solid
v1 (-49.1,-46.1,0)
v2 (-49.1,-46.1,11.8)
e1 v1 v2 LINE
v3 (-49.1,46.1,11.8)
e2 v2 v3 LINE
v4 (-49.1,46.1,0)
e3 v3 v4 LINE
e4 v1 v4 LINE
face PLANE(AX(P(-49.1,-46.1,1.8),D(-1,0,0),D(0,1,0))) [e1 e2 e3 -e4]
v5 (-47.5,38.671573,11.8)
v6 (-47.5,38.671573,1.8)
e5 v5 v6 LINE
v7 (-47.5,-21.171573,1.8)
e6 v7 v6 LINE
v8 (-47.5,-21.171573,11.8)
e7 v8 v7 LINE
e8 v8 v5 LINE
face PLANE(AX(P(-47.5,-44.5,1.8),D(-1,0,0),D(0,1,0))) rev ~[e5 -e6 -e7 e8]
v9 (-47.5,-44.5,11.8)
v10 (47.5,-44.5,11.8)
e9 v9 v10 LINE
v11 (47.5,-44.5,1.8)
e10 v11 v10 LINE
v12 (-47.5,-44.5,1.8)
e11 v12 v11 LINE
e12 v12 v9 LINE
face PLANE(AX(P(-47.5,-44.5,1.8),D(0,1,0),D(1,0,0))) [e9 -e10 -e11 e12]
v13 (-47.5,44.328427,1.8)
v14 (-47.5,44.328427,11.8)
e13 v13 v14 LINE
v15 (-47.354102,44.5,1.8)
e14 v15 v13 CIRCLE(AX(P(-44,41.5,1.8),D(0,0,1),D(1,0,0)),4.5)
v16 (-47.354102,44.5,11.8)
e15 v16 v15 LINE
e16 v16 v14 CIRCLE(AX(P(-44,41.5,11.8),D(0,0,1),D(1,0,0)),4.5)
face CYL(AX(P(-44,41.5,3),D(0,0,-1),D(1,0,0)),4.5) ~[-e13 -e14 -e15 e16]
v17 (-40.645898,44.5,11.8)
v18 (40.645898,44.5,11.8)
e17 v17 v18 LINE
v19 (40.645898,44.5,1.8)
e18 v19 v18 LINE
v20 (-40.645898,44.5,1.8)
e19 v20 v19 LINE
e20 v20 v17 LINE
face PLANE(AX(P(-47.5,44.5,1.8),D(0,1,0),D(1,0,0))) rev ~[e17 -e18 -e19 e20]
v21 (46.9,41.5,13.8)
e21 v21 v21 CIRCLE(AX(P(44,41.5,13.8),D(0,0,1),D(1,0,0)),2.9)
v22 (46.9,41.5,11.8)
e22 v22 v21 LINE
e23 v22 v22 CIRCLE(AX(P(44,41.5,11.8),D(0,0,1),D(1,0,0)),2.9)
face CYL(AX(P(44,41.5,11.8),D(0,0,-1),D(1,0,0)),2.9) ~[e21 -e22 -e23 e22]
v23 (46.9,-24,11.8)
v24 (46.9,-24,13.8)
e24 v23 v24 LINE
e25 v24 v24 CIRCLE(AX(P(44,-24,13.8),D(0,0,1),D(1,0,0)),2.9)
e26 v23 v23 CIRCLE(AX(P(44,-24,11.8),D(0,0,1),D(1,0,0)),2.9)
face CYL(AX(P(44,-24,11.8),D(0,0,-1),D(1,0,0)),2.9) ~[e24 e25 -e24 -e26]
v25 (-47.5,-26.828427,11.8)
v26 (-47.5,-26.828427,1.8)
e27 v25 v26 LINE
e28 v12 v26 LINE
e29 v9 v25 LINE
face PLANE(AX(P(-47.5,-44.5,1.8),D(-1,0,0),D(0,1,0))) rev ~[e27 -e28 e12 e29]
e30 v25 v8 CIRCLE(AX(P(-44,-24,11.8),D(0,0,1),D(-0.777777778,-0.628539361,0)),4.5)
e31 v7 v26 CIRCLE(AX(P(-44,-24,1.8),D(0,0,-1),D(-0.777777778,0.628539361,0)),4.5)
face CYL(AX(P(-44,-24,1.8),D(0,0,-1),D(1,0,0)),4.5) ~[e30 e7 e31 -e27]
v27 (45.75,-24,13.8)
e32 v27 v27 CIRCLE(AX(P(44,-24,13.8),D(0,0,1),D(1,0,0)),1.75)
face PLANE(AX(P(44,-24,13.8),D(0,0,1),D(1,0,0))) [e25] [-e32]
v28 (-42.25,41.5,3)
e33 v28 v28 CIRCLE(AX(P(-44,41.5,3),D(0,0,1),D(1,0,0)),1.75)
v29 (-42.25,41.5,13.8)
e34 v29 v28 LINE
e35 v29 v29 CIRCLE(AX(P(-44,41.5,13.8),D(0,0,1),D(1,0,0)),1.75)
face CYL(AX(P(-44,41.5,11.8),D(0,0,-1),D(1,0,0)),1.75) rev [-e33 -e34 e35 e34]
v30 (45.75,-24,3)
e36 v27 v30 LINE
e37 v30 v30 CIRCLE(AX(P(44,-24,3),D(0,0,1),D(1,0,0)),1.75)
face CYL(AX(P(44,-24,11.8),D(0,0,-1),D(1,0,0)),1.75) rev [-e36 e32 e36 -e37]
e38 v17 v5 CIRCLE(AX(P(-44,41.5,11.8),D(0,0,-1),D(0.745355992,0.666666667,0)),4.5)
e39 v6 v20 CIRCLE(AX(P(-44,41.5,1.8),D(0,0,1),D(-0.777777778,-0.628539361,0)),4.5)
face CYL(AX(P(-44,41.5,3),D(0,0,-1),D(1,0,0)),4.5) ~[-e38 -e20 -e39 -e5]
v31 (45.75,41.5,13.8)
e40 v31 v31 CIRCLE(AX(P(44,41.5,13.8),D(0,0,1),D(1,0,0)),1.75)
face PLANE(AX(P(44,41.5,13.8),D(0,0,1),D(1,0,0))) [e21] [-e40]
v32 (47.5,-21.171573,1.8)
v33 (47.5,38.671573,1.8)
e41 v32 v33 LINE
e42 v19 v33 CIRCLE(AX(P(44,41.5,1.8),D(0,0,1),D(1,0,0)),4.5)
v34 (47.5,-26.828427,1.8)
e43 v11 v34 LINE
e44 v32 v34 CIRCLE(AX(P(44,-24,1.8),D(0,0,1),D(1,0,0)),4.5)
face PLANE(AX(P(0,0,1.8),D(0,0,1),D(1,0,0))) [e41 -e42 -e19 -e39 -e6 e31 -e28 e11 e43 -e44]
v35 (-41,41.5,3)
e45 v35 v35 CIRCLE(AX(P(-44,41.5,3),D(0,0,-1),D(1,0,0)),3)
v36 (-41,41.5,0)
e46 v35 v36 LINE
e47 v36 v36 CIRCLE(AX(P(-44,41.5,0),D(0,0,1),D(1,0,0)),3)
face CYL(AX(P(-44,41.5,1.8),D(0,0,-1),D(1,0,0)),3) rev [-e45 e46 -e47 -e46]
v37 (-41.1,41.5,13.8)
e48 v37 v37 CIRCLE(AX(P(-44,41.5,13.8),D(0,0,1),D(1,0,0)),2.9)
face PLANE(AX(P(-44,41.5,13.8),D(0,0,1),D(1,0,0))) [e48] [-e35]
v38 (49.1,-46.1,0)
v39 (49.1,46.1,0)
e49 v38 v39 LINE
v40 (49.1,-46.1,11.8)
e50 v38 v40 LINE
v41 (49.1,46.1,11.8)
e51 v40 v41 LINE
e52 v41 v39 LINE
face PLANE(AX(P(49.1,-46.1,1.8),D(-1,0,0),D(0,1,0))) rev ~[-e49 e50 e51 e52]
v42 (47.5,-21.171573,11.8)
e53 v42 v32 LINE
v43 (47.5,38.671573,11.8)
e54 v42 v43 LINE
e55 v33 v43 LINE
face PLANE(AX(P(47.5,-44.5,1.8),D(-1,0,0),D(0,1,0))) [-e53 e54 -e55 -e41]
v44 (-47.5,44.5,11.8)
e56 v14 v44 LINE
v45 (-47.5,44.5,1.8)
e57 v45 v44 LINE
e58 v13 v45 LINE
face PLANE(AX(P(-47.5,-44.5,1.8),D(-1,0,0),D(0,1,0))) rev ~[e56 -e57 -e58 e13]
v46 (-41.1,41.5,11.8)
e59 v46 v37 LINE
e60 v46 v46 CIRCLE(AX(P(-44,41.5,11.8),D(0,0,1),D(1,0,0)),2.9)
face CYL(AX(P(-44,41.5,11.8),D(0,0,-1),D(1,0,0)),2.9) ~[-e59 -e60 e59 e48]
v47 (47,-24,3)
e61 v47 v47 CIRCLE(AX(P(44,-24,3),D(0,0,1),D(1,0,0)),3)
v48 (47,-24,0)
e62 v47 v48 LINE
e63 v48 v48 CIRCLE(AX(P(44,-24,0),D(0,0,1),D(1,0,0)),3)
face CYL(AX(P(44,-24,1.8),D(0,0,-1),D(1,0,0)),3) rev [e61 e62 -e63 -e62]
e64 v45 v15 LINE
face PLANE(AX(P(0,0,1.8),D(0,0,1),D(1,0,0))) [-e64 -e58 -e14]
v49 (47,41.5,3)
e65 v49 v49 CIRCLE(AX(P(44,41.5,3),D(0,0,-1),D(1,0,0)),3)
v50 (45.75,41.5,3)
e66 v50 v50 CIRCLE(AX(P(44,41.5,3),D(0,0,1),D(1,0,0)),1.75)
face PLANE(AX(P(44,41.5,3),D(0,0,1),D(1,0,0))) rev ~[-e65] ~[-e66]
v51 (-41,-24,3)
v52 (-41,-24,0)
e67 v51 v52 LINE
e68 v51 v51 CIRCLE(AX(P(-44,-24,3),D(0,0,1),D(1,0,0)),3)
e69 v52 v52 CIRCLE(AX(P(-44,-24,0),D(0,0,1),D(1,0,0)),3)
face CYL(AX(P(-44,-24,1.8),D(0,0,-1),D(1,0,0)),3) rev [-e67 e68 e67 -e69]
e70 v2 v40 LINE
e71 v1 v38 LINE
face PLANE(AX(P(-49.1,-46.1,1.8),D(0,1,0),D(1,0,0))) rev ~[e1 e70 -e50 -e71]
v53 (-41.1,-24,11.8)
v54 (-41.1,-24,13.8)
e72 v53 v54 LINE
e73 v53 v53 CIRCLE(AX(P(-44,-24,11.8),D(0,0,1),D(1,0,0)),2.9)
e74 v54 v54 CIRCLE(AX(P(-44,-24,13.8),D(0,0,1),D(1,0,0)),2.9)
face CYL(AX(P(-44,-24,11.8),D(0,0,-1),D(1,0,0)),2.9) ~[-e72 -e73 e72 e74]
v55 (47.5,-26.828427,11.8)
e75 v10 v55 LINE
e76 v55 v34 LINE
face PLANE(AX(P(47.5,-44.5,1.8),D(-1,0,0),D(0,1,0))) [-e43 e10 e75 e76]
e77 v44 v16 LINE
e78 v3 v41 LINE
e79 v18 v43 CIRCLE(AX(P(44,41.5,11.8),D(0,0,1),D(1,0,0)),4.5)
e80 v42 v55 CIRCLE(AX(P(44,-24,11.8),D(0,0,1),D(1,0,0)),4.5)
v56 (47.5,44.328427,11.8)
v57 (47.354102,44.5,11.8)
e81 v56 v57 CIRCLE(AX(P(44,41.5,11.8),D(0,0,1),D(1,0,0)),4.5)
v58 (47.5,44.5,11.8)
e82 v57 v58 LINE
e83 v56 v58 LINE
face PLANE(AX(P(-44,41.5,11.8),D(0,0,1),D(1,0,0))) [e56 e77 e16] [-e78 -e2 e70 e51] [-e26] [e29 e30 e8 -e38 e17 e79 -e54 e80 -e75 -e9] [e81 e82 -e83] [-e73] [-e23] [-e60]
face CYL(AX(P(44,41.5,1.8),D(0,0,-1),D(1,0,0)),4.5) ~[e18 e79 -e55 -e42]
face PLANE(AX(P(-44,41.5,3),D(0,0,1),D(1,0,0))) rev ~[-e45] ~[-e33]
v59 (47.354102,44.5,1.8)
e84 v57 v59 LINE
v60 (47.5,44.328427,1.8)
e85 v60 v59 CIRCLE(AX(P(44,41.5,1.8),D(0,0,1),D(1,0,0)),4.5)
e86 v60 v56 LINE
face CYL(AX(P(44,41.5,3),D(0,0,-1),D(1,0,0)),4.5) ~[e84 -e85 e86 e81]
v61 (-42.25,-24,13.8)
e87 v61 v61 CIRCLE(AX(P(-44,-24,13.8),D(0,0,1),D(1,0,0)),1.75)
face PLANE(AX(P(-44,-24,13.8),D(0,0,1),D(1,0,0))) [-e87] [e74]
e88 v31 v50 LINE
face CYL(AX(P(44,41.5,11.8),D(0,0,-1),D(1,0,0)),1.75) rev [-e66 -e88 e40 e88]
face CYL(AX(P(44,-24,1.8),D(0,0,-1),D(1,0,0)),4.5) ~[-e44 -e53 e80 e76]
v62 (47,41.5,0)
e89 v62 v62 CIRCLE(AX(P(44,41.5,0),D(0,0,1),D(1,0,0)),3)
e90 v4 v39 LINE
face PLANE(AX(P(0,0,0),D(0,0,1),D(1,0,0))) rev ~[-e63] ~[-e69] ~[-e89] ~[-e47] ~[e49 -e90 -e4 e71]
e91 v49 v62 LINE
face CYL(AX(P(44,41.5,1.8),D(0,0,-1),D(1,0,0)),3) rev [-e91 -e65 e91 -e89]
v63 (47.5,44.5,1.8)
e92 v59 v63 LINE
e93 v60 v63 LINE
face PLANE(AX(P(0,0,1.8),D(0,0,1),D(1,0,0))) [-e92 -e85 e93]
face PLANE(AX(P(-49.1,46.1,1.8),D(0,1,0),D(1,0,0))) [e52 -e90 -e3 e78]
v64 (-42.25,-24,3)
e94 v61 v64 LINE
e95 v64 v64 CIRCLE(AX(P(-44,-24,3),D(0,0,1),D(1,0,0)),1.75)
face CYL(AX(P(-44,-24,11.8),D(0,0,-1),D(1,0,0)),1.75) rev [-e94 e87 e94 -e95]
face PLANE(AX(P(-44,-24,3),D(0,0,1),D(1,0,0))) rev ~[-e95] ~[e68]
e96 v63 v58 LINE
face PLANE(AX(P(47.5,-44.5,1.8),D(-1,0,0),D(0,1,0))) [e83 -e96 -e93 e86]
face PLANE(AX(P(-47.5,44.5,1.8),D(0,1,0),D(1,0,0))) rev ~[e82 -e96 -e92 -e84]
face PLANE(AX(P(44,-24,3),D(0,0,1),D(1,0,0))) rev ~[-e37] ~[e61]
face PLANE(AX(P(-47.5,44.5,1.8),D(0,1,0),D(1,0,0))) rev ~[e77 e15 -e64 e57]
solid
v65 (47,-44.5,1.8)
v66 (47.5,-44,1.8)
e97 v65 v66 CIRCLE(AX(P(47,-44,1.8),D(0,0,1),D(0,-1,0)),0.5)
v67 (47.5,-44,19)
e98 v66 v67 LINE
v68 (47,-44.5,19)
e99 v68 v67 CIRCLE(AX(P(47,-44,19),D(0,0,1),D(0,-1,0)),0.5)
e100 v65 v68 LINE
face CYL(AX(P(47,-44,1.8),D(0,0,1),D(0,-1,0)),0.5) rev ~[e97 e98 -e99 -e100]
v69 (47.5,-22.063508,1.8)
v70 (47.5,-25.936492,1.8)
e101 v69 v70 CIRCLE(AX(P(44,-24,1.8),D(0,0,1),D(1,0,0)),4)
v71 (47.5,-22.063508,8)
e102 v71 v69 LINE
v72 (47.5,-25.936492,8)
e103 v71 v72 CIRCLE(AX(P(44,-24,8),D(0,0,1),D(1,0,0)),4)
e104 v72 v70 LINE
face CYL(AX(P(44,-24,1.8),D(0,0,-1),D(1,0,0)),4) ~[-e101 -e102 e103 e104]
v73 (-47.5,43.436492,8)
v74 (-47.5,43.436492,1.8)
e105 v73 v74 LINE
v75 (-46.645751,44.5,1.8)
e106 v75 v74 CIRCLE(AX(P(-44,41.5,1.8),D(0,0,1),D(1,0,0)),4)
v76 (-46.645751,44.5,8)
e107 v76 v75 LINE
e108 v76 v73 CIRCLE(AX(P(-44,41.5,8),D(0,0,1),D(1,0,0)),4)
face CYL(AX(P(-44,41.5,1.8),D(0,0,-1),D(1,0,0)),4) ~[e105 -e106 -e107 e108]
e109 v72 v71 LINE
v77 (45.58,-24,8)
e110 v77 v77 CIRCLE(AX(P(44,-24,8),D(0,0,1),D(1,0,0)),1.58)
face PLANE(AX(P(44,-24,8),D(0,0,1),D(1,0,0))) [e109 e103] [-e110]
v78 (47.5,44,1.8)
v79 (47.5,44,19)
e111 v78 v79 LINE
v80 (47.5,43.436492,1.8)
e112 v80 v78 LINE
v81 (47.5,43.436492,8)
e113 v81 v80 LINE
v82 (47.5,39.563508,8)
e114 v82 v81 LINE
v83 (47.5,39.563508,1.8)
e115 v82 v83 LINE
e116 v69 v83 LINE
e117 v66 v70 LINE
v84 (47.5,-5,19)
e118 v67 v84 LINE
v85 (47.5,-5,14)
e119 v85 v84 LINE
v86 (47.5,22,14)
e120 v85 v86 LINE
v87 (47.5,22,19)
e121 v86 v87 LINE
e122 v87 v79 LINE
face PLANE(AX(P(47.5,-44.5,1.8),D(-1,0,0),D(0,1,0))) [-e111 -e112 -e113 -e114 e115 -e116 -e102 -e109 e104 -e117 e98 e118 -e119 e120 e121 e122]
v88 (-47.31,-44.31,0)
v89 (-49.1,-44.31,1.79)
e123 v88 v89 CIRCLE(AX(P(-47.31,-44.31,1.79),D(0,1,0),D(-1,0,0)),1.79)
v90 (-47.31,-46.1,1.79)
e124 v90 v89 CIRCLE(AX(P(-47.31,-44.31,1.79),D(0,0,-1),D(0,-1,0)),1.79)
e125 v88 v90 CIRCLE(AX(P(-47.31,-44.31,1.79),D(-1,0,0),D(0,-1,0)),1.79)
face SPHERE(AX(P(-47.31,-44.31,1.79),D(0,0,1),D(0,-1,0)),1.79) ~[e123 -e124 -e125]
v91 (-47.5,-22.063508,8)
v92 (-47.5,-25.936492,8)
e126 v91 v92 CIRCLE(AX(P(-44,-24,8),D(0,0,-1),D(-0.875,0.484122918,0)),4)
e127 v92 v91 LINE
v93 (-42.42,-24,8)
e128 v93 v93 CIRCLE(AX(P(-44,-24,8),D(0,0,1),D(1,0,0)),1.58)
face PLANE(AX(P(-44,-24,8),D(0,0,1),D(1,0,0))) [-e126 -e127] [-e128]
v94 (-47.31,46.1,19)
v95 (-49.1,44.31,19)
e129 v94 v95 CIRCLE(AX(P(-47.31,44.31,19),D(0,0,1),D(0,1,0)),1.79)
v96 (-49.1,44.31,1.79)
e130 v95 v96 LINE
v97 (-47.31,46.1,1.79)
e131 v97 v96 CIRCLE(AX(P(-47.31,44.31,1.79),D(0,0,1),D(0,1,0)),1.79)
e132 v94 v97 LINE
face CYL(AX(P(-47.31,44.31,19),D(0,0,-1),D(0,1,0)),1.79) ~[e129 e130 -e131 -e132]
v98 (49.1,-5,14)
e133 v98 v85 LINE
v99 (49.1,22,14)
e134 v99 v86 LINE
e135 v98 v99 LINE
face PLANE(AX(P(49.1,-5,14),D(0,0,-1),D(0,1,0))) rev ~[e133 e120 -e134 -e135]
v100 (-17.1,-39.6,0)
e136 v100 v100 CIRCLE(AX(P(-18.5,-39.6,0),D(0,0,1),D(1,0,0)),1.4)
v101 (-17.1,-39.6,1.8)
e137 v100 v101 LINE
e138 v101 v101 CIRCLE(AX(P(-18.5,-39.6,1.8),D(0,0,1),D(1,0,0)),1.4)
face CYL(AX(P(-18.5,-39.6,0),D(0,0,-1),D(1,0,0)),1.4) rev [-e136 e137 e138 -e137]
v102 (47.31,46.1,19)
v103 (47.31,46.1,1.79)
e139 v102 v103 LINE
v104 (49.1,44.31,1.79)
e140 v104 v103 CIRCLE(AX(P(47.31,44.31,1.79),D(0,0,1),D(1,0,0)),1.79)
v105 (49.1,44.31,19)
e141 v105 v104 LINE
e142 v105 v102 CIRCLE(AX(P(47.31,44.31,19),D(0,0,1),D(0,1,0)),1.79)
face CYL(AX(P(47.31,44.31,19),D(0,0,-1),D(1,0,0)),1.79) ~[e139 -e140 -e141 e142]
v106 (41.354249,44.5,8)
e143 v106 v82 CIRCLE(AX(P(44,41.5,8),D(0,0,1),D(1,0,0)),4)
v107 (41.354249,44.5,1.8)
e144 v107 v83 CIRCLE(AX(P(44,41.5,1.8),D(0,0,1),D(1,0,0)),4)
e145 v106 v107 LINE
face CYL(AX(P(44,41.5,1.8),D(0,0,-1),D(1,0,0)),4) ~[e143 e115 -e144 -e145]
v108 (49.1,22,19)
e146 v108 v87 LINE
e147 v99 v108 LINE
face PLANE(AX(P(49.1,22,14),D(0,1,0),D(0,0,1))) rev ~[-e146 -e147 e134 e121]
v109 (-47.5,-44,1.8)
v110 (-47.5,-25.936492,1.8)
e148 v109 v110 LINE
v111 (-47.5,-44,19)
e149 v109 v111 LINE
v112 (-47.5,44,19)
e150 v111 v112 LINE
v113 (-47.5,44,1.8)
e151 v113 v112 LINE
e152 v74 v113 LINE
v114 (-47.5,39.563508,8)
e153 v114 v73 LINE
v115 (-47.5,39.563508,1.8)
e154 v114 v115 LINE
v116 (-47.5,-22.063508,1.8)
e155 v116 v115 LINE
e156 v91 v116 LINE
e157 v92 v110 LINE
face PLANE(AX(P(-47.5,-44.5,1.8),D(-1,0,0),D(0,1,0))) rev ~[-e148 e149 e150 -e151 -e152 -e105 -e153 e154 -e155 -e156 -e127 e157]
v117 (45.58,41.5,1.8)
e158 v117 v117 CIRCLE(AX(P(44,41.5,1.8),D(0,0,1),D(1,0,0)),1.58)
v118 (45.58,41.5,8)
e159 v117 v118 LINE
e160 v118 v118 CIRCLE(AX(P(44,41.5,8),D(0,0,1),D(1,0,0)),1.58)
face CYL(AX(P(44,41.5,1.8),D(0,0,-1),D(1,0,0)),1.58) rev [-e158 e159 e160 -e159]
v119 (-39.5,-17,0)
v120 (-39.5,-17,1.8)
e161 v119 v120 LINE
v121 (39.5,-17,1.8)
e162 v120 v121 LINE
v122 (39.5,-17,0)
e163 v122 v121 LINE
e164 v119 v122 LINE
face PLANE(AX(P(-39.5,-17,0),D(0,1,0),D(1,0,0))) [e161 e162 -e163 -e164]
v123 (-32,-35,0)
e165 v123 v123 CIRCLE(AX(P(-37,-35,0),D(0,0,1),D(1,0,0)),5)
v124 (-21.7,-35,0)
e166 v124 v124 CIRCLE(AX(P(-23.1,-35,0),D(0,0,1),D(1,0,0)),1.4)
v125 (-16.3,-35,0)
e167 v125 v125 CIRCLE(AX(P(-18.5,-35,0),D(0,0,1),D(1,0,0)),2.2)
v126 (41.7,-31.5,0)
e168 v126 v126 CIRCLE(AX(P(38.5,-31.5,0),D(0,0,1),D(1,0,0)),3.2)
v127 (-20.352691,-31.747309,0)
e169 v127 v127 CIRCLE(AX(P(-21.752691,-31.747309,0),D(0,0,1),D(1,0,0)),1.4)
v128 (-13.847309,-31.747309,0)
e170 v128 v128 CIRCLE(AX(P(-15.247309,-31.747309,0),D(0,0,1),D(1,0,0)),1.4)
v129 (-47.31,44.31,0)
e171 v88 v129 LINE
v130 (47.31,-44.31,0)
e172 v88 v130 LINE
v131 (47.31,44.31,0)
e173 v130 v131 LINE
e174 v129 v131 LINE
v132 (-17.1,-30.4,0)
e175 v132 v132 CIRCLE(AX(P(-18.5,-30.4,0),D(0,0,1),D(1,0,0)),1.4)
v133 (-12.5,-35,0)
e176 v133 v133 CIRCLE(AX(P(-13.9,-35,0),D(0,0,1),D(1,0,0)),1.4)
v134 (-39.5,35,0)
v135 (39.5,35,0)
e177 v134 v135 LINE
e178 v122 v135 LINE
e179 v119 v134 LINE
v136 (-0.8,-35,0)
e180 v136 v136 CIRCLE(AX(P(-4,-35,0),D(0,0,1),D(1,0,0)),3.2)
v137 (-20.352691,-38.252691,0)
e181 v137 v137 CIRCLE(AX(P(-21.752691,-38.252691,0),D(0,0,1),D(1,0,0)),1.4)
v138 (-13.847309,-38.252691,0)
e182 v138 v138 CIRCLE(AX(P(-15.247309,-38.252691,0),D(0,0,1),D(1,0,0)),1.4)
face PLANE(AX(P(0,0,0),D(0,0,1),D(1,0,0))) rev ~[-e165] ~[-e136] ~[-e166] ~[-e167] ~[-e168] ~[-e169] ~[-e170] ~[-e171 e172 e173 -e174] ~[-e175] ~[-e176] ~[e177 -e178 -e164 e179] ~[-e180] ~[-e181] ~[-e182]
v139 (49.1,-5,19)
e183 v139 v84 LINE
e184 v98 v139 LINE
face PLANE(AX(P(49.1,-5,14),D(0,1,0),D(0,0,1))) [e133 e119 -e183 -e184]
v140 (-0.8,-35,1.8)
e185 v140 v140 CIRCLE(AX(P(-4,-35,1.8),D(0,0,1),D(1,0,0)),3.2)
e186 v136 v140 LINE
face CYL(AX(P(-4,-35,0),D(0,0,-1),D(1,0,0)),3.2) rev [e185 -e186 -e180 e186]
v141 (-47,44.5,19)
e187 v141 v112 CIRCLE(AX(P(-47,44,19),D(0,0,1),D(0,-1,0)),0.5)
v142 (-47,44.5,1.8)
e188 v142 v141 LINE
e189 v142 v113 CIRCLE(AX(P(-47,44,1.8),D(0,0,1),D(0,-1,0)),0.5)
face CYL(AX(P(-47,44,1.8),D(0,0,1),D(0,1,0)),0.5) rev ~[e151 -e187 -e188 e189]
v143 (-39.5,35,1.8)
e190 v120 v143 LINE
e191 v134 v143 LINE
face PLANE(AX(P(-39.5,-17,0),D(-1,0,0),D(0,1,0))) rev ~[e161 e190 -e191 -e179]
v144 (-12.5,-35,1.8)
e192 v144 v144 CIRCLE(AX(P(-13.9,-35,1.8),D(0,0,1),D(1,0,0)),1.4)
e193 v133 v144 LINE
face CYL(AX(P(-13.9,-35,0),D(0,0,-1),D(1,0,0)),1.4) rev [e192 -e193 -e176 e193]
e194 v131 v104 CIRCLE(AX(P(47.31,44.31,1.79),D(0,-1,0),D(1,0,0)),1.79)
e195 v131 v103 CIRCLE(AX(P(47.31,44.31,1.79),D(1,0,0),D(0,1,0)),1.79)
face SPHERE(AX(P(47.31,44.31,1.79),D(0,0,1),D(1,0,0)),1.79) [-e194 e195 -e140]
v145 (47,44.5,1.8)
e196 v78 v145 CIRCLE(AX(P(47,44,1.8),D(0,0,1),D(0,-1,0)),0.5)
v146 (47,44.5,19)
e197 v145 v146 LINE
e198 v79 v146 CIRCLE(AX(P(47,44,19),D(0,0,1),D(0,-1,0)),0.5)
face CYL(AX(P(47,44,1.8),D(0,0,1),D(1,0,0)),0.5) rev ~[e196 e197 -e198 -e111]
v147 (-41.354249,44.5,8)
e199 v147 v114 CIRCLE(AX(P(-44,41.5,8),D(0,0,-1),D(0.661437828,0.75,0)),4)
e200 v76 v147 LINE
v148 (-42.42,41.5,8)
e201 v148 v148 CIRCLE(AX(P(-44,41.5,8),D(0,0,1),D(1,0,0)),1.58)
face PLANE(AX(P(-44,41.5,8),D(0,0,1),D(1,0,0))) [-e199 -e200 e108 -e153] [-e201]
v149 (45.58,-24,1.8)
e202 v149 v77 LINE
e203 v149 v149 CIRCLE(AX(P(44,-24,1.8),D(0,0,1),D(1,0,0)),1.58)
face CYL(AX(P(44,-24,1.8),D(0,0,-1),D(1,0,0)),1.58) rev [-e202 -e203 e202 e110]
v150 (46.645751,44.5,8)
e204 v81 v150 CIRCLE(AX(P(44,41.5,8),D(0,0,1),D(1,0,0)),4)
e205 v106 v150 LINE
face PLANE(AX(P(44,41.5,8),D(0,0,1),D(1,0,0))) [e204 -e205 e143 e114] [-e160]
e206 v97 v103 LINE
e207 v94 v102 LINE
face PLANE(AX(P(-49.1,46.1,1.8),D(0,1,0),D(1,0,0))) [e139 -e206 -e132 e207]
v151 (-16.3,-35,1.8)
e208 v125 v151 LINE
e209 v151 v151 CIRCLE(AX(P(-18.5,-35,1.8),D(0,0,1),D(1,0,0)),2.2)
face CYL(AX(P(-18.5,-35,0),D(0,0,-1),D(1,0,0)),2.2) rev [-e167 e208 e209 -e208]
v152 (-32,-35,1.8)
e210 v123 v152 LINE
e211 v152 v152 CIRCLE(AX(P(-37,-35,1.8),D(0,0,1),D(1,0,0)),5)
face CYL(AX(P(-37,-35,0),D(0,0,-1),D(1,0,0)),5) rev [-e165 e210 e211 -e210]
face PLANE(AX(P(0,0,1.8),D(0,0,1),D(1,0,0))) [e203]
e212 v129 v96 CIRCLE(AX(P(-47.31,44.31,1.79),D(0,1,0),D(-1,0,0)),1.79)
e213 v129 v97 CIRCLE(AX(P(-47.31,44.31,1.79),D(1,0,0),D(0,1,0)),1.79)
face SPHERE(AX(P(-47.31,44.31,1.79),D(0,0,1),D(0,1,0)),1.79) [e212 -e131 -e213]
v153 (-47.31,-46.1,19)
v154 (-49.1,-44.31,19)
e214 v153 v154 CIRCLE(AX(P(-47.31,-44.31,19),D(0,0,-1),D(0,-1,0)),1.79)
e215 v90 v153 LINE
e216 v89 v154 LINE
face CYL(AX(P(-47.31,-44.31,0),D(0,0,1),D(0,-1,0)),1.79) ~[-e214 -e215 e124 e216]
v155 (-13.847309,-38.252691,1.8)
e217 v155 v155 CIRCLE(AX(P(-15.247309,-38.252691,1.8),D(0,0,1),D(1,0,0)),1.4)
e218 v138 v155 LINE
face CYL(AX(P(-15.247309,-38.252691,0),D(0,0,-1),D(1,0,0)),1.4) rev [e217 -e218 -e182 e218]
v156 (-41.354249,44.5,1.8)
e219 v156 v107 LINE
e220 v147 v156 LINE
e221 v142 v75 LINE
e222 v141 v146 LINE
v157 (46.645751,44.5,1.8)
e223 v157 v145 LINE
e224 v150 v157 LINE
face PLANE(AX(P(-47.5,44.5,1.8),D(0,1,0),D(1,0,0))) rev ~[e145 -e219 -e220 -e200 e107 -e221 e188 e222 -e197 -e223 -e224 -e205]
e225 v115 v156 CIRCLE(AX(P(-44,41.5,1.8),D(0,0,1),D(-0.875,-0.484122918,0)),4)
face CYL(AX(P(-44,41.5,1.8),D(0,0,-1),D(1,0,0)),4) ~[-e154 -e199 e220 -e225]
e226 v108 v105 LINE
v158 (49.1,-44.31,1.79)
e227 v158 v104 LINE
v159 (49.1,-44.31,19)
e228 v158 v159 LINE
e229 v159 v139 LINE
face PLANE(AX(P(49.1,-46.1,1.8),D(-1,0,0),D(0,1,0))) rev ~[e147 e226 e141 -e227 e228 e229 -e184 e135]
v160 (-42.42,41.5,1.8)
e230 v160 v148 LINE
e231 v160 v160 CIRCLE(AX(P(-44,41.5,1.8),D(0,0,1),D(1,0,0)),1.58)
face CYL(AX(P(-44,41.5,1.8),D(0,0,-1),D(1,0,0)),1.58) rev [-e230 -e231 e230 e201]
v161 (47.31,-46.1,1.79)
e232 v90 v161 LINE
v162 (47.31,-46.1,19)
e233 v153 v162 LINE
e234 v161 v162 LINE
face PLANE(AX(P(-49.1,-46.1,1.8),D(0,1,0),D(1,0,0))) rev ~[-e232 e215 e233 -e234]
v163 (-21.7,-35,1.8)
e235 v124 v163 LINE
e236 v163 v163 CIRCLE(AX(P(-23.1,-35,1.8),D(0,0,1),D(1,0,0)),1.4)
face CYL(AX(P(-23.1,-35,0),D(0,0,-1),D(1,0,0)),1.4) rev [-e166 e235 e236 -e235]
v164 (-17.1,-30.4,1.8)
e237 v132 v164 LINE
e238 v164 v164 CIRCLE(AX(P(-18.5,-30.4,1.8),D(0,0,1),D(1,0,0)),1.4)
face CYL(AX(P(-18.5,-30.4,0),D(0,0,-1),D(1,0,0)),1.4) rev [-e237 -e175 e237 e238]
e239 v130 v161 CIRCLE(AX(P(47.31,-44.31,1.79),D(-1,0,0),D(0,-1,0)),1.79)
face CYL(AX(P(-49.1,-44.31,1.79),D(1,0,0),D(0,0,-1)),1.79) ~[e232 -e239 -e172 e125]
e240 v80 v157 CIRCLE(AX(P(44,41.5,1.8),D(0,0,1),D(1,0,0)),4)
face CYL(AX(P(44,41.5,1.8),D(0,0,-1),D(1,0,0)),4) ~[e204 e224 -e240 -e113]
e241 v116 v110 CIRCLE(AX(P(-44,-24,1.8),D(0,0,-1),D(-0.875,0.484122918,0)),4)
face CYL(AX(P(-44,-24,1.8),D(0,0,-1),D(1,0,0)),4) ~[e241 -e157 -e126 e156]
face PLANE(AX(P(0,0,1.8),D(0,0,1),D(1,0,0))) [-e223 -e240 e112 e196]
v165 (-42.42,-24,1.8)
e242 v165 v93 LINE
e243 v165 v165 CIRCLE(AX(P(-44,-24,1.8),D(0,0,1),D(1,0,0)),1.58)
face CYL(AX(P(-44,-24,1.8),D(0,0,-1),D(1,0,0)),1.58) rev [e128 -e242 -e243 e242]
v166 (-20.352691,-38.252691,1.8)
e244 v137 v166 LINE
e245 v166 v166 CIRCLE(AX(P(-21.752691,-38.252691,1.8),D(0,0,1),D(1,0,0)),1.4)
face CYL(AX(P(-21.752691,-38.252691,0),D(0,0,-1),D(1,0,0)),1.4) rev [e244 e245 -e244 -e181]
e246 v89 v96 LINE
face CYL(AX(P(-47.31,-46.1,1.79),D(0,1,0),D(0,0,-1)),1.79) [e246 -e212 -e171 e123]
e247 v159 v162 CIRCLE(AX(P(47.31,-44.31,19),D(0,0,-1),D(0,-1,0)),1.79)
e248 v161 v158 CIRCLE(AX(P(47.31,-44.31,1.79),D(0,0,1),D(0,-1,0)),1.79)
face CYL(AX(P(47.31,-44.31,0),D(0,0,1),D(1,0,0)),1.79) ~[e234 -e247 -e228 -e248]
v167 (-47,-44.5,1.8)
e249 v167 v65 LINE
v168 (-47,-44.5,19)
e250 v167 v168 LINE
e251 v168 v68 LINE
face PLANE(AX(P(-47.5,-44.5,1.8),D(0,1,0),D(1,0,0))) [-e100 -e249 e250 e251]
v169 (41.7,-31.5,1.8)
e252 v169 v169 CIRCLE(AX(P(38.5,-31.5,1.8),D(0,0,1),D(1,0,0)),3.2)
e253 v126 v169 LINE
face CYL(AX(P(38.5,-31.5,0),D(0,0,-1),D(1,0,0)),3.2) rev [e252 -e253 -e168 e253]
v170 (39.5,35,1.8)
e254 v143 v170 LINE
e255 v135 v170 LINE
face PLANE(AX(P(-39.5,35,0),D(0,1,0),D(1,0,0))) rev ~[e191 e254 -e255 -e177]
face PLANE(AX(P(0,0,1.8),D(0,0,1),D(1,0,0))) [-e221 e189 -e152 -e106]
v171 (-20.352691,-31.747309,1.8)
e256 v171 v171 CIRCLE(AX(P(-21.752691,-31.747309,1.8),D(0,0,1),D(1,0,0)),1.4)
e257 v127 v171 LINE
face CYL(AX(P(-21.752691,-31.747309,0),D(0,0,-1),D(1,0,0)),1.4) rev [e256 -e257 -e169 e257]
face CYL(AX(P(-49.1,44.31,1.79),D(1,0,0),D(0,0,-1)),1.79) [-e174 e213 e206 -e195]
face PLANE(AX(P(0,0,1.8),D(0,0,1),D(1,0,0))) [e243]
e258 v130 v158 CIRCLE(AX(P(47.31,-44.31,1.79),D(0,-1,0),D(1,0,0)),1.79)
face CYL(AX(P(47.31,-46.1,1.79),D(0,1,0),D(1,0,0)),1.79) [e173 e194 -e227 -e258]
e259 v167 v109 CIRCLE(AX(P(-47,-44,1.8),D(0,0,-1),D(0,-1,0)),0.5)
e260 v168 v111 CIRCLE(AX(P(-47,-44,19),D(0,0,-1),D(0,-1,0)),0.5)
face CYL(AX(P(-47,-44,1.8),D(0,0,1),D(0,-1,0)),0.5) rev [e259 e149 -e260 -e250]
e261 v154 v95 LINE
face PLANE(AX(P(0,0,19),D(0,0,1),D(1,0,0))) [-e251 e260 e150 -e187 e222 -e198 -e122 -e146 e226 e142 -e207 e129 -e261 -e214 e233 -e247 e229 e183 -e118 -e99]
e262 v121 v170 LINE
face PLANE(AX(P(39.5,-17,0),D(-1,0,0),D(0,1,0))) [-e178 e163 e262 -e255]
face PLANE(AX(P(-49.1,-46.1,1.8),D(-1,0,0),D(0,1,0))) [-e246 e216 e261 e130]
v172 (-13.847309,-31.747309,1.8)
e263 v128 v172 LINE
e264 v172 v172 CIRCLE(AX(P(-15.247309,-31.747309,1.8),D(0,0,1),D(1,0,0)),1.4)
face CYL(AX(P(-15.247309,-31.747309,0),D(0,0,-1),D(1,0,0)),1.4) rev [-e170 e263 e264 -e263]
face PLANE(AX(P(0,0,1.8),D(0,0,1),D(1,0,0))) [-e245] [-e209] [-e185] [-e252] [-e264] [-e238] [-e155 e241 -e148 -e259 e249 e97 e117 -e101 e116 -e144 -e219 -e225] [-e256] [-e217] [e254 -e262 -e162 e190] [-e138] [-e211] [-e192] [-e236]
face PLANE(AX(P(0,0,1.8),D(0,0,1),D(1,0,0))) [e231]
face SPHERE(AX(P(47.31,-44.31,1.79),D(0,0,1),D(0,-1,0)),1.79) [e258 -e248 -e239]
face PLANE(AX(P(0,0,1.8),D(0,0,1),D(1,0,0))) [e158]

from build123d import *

# Parameters (mm, degrees)
SKETCH_W      = 98.2
SKETCH_H      = 92.2
SKETCH_R      = 5
SKETCH_R_2    = 3.2
SKETCH_R_3    = 1.4
SKETCH_R_4    = 2.2
SKETCH_W_2    = 79
SKETCH_H_2    = 52
PAD_DEPTH     = 1.8
SKETCH001_W   = 98.2
SKETCH001_H   = 92.2
SKETCH001_W_2 = 95
SKETCH001_H_2 = 89
PAD001_DEPTH  = 17.2
SKETCH002_R   = 4
SKETCH002_R_2 = 1.58
PAD002_DEPTH  = 6.2
FILLET_R      = 1.79
FILLET001_R   = 0.5
SKETCH003_W   = 27
SKETCH003_H   = 5
POCKET_DEPTH  = 1.6
SKETCH007_W   = 98.2
SKETCH007_H   = 92.2
SKETCH007_R   = 3
PAD006_DEPTH  = 1.8
SKETCH005_W   = 98.2
SKETCH005_H   = 92.2
SKETCH005_W_2 = 95
SKETCH005_H_2 = 89
PAD007_DEPTH  = 10
SKETCH008_R   = 4.5
SKETCH008_R_2 = 3
PAD008_DEPTH  = 1.2
SKETCH009_R   = 4.5
SKETCH009_R_2 = 1.75
PAD009_DEPTH  = 8.8
SKETCH006_R   = 2.9
SKETCH006_R_2 = 1.75
PAD010_DEPTH  = 2


with BuildPart() as pocket:
    # Sketch → Pad (new body)
    with BuildSketch(Plane.XY):
        Rectangle(SKETCH_W, SKETCH_H)
        with Locations((-37, -35)):
            Circle(SKETCH_R, mode=Mode.SUBTRACT)
        with Locations((-4, -35)):
            Circle(SKETCH_R_2, mode=Mode.SUBTRACT)
        with Locations((-23.1, -35)):
            Circle(SKETCH_R_3, mode=Mode.SUBTRACT)
        with Locations((-18.5, -30.4)):
            Circle(SKETCH_R_3, mode=Mode.SUBTRACT)
        with Locations((-13.9, -35)):
            Circle(SKETCH_R_3, mode=Mode.SUBTRACT)
        with Locations((-18.5, -39.6)):
            Circle(SKETCH_R_3, mode=Mode.SUBTRACT)
        with Locations((-18.5, -35)):
            Circle(SKETCH_R_4, mode=Mode.SUBTRACT)
        with Locations((-21.752691, -31.747309)):
            Circle(SKETCH_R_3, mode=Mode.SUBTRACT)
        with Locations((-15.247309, -31.747309)):
            Circle(SKETCH_R_3, mode=Mode.SUBTRACT)
        with Locations((-15.247309, -38.252691)):
            Circle(SKETCH_R_3, mode=Mode.SUBTRACT)
        with Locations((-21.752691, -38.252691)):
            Circle(SKETCH_R_3, mode=Mode.SUBTRACT)
        with Locations((38.5, -31.5)):
            Circle(SKETCH_R_2, mode=Mode.SUBTRACT)
        with Locations((0, 9)):
            Rectangle(SKETCH_W_2, SKETCH_H_2, mode=Mode.SUBTRACT)
    extrude(amount=PAD_DEPTH)

    # Sketch001 (on Face22 of Pad) → Pad001 (new body)
    with BuildSketch(Plane.XY.offset(1.8)):
        Rectangle(SKETCH001_W, SKETCH001_H)
        Rectangle(SKETCH001_W_2, SKETCH001_H_2, mode=Mode.SUBTRACT)
    extrude(amount=PAD001_DEPTH)

    # Sketch002 (on Face26 of Pad001) → Pad002 (new body)
    with BuildSketch(Plane.XY.offset(1.8)):
        with Locations((-44, 41.5)):
            Circle(SKETCH002_R)
        with Locations((-44, 41.5)):
            Circle(SKETCH002_R_2, mode=Mode.SUBTRACT)
        with Locations((44, 41.5)):
            Circle(SKETCH002_R)
        with Locations((44, 41.5)):
            Circle(SKETCH002_R_2, mode=Mode.SUBTRACT)
        with Locations((44, -24)):
            Circle(SKETCH002_R)
        with Locations((44, -24)):
            Circle(SKETCH002_R_2, mode=Mode.SUBTRACT)
        with Locations((-44, -24)):
            Circle(SKETCH002_R)
        with Locations((-44, -24)):
            Circle(SKETCH002_R_2, mode=Mode.SUBTRACT)
    extrude(amount=PAD002_DEPTH)

    # Fillet
    fillet_edges = [pocket.edges().sort_by_distance(p)[0] for p in [
        (-49.1, 46.1, 0.9),
        (-49.1, 46.1, 10.4),
        (-49.1, -46.1, 0.9),
        (-49.1, -46.1, 10.4),
        (49.1, 46.1, 0.9),
        (49.1, 46.1, 10.4),
        (49.1, -46.1, 0.9),
        (49.1, -46.1, 10.4),
        (0, -46.1, 0),
        (49.1, 0, 0),
        (0, 46.1, 0),
        (-49.1, 0, 0),
    ]]
    fillet(fillet_edges, radius=FILLET_R)

    # Fillet001
    fillet001_edges = [pocket.edges().sort_by_distance(p)[0] for p in [
        (-47.5, 44.5, 10.4),
        (-47.5, -44.5, 10.4),
        (47.5, -44.5, 10.4),
        (47.5, 44.5, 10.4),
    ]]
    fillet(fillet001_edges, radius=FILLET001_R)

    # Sketch003 (on Face46 of Fillet001) → Pocket (cut)
    with BuildSketch(Plane.YZ.offset(49.1)):
        with Locations((8.5, 16.5)):
            Rectangle(SKETCH003_W, SKETCH003_H)
    extrude(amount=-POCKET_DEPTH, mode=Mode.SUBTRACT)


with BuildPart() as pad010:
    # Sketch007 → Pad006 (new body)
    with BuildSketch(Plane.XY):
        Rectangle(SKETCH007_W, SKETCH007_H)
        with Locations((-44, 41.5)):
            Circle(SKETCH007_R, mode=Mode.SUBTRACT)
        with Locations((44, 41.5)):
            Circle(SKETCH007_R, mode=Mode.SUBTRACT)
        with Locations((44, -24)):
            Circle(SKETCH007_R, mode=Mode.SUBTRACT)
        with Locations((-44, -24)):
            Circle(SKETCH007_R, mode=Mode.SUBTRACT)
    extrude(amount=PAD006_DEPTH)

    # Sketch005 (on Face10 of Pad006) → Pad007 (new body)
    with BuildSketch(Plane.XY.offset(1.8)):
        Rectangle(SKETCH005_W, SKETCH005_H)
        Rectangle(SKETCH005_W_2, SKETCH005_H_2, mode=Mode.SUBTRACT)
    extrude(amount=PAD007_DEPTH)

    # Sketch008 (on Face14 of Pad007) → Pad008 (new body)
    with BuildSketch(Plane.XY.offset(1.8)):
        with Locations((-44, 41.5)):
            Circle(SKETCH008_R)
        with Locations((-44, 41.5)):
            Circle(SKETCH008_R_2, mode=Mode.SUBTRACT)
        with Locations((44, 41.5)):
            Circle(SKETCH008_R)
        with Locations((44, 41.5)):
            Circle(SKETCH008_R_2, mode=Mode.SUBTRACT)
        with Locations((44, -24)):
            Circle(SKETCH008_R)
        with Locations((44, -24)):
            Circle(SKETCH008_R_2, mode=Mode.SUBTRACT)
        with Locations((-44, -24)):
            Circle(SKETCH008_R)
        with Locations((-44, -24)):
            Circle(SKETCH008_R_2, mode=Mode.SUBTRACT)
    extrude(amount=PAD008_DEPTH)

    # Sketch009 (on Face24 of Pad008) → Pad009 (new body)
    with BuildSketch(Plane.XY.offset(3)):
        with Locations((-44, 41.5)):
            Circle(SKETCH009_R)
        with Locations((-44, 41.5)):
            Circle(SKETCH009_R_2, mode=Mode.SUBTRACT)
        with Locations((44, 41.5)):
            Circle(SKETCH009_R)
        with Locations((44, 41.5)):
            Circle(SKETCH009_R_2, mode=Mode.SUBTRACT)
        with Locations((44, -24)):
            Circle(SKETCH009_R)
        with Locations((44, -24)):
            Circle(SKETCH009_R_2, mode=Mode.SUBTRACT)
        with Locations((-44, -24)):
            Circle(SKETCH009_R)
        with Locations((-44, -24)):
            Circle(SKETCH009_R_2, mode=Mode.SUBTRACT)
    extrude(amount=PAD009_DEPTH)

    # Sketch006 (on Face48 of Pad009) → Pad010 (new body)
    with BuildSketch(Plane.XY.offset(11.8)):
        with Locations((-44, 41.5)):
            Circle(SKETCH006_R)
        with Locations((-44, 41.5)):
            Circle(SKETCH006_R_2, mode=Mode.SUBTRACT)
        with Locations((44, 41.5)):
            Circle(SKETCH006_R)
        with Locations((44, 41.5)):
            Circle(SKETCH006_R_2, mode=Mode.SUBTRACT)
        with Locations((44, -24)):
            Circle(SKETCH006_R)
        with Locations((44, -24)):
            Circle(SKETCH006_R_2, mode=Mode.SUBTRACT)
        with Locations((-44, -24)):
            Circle(SKETCH006_R)
        with Locations((-44, -24)):
            Circle(SKETCH006_R_2, mode=Mode.SUBTRACT)
    extrude(amount=PAD010_DEPTH)


solid = Compound([pocket.part, pad010.part])
